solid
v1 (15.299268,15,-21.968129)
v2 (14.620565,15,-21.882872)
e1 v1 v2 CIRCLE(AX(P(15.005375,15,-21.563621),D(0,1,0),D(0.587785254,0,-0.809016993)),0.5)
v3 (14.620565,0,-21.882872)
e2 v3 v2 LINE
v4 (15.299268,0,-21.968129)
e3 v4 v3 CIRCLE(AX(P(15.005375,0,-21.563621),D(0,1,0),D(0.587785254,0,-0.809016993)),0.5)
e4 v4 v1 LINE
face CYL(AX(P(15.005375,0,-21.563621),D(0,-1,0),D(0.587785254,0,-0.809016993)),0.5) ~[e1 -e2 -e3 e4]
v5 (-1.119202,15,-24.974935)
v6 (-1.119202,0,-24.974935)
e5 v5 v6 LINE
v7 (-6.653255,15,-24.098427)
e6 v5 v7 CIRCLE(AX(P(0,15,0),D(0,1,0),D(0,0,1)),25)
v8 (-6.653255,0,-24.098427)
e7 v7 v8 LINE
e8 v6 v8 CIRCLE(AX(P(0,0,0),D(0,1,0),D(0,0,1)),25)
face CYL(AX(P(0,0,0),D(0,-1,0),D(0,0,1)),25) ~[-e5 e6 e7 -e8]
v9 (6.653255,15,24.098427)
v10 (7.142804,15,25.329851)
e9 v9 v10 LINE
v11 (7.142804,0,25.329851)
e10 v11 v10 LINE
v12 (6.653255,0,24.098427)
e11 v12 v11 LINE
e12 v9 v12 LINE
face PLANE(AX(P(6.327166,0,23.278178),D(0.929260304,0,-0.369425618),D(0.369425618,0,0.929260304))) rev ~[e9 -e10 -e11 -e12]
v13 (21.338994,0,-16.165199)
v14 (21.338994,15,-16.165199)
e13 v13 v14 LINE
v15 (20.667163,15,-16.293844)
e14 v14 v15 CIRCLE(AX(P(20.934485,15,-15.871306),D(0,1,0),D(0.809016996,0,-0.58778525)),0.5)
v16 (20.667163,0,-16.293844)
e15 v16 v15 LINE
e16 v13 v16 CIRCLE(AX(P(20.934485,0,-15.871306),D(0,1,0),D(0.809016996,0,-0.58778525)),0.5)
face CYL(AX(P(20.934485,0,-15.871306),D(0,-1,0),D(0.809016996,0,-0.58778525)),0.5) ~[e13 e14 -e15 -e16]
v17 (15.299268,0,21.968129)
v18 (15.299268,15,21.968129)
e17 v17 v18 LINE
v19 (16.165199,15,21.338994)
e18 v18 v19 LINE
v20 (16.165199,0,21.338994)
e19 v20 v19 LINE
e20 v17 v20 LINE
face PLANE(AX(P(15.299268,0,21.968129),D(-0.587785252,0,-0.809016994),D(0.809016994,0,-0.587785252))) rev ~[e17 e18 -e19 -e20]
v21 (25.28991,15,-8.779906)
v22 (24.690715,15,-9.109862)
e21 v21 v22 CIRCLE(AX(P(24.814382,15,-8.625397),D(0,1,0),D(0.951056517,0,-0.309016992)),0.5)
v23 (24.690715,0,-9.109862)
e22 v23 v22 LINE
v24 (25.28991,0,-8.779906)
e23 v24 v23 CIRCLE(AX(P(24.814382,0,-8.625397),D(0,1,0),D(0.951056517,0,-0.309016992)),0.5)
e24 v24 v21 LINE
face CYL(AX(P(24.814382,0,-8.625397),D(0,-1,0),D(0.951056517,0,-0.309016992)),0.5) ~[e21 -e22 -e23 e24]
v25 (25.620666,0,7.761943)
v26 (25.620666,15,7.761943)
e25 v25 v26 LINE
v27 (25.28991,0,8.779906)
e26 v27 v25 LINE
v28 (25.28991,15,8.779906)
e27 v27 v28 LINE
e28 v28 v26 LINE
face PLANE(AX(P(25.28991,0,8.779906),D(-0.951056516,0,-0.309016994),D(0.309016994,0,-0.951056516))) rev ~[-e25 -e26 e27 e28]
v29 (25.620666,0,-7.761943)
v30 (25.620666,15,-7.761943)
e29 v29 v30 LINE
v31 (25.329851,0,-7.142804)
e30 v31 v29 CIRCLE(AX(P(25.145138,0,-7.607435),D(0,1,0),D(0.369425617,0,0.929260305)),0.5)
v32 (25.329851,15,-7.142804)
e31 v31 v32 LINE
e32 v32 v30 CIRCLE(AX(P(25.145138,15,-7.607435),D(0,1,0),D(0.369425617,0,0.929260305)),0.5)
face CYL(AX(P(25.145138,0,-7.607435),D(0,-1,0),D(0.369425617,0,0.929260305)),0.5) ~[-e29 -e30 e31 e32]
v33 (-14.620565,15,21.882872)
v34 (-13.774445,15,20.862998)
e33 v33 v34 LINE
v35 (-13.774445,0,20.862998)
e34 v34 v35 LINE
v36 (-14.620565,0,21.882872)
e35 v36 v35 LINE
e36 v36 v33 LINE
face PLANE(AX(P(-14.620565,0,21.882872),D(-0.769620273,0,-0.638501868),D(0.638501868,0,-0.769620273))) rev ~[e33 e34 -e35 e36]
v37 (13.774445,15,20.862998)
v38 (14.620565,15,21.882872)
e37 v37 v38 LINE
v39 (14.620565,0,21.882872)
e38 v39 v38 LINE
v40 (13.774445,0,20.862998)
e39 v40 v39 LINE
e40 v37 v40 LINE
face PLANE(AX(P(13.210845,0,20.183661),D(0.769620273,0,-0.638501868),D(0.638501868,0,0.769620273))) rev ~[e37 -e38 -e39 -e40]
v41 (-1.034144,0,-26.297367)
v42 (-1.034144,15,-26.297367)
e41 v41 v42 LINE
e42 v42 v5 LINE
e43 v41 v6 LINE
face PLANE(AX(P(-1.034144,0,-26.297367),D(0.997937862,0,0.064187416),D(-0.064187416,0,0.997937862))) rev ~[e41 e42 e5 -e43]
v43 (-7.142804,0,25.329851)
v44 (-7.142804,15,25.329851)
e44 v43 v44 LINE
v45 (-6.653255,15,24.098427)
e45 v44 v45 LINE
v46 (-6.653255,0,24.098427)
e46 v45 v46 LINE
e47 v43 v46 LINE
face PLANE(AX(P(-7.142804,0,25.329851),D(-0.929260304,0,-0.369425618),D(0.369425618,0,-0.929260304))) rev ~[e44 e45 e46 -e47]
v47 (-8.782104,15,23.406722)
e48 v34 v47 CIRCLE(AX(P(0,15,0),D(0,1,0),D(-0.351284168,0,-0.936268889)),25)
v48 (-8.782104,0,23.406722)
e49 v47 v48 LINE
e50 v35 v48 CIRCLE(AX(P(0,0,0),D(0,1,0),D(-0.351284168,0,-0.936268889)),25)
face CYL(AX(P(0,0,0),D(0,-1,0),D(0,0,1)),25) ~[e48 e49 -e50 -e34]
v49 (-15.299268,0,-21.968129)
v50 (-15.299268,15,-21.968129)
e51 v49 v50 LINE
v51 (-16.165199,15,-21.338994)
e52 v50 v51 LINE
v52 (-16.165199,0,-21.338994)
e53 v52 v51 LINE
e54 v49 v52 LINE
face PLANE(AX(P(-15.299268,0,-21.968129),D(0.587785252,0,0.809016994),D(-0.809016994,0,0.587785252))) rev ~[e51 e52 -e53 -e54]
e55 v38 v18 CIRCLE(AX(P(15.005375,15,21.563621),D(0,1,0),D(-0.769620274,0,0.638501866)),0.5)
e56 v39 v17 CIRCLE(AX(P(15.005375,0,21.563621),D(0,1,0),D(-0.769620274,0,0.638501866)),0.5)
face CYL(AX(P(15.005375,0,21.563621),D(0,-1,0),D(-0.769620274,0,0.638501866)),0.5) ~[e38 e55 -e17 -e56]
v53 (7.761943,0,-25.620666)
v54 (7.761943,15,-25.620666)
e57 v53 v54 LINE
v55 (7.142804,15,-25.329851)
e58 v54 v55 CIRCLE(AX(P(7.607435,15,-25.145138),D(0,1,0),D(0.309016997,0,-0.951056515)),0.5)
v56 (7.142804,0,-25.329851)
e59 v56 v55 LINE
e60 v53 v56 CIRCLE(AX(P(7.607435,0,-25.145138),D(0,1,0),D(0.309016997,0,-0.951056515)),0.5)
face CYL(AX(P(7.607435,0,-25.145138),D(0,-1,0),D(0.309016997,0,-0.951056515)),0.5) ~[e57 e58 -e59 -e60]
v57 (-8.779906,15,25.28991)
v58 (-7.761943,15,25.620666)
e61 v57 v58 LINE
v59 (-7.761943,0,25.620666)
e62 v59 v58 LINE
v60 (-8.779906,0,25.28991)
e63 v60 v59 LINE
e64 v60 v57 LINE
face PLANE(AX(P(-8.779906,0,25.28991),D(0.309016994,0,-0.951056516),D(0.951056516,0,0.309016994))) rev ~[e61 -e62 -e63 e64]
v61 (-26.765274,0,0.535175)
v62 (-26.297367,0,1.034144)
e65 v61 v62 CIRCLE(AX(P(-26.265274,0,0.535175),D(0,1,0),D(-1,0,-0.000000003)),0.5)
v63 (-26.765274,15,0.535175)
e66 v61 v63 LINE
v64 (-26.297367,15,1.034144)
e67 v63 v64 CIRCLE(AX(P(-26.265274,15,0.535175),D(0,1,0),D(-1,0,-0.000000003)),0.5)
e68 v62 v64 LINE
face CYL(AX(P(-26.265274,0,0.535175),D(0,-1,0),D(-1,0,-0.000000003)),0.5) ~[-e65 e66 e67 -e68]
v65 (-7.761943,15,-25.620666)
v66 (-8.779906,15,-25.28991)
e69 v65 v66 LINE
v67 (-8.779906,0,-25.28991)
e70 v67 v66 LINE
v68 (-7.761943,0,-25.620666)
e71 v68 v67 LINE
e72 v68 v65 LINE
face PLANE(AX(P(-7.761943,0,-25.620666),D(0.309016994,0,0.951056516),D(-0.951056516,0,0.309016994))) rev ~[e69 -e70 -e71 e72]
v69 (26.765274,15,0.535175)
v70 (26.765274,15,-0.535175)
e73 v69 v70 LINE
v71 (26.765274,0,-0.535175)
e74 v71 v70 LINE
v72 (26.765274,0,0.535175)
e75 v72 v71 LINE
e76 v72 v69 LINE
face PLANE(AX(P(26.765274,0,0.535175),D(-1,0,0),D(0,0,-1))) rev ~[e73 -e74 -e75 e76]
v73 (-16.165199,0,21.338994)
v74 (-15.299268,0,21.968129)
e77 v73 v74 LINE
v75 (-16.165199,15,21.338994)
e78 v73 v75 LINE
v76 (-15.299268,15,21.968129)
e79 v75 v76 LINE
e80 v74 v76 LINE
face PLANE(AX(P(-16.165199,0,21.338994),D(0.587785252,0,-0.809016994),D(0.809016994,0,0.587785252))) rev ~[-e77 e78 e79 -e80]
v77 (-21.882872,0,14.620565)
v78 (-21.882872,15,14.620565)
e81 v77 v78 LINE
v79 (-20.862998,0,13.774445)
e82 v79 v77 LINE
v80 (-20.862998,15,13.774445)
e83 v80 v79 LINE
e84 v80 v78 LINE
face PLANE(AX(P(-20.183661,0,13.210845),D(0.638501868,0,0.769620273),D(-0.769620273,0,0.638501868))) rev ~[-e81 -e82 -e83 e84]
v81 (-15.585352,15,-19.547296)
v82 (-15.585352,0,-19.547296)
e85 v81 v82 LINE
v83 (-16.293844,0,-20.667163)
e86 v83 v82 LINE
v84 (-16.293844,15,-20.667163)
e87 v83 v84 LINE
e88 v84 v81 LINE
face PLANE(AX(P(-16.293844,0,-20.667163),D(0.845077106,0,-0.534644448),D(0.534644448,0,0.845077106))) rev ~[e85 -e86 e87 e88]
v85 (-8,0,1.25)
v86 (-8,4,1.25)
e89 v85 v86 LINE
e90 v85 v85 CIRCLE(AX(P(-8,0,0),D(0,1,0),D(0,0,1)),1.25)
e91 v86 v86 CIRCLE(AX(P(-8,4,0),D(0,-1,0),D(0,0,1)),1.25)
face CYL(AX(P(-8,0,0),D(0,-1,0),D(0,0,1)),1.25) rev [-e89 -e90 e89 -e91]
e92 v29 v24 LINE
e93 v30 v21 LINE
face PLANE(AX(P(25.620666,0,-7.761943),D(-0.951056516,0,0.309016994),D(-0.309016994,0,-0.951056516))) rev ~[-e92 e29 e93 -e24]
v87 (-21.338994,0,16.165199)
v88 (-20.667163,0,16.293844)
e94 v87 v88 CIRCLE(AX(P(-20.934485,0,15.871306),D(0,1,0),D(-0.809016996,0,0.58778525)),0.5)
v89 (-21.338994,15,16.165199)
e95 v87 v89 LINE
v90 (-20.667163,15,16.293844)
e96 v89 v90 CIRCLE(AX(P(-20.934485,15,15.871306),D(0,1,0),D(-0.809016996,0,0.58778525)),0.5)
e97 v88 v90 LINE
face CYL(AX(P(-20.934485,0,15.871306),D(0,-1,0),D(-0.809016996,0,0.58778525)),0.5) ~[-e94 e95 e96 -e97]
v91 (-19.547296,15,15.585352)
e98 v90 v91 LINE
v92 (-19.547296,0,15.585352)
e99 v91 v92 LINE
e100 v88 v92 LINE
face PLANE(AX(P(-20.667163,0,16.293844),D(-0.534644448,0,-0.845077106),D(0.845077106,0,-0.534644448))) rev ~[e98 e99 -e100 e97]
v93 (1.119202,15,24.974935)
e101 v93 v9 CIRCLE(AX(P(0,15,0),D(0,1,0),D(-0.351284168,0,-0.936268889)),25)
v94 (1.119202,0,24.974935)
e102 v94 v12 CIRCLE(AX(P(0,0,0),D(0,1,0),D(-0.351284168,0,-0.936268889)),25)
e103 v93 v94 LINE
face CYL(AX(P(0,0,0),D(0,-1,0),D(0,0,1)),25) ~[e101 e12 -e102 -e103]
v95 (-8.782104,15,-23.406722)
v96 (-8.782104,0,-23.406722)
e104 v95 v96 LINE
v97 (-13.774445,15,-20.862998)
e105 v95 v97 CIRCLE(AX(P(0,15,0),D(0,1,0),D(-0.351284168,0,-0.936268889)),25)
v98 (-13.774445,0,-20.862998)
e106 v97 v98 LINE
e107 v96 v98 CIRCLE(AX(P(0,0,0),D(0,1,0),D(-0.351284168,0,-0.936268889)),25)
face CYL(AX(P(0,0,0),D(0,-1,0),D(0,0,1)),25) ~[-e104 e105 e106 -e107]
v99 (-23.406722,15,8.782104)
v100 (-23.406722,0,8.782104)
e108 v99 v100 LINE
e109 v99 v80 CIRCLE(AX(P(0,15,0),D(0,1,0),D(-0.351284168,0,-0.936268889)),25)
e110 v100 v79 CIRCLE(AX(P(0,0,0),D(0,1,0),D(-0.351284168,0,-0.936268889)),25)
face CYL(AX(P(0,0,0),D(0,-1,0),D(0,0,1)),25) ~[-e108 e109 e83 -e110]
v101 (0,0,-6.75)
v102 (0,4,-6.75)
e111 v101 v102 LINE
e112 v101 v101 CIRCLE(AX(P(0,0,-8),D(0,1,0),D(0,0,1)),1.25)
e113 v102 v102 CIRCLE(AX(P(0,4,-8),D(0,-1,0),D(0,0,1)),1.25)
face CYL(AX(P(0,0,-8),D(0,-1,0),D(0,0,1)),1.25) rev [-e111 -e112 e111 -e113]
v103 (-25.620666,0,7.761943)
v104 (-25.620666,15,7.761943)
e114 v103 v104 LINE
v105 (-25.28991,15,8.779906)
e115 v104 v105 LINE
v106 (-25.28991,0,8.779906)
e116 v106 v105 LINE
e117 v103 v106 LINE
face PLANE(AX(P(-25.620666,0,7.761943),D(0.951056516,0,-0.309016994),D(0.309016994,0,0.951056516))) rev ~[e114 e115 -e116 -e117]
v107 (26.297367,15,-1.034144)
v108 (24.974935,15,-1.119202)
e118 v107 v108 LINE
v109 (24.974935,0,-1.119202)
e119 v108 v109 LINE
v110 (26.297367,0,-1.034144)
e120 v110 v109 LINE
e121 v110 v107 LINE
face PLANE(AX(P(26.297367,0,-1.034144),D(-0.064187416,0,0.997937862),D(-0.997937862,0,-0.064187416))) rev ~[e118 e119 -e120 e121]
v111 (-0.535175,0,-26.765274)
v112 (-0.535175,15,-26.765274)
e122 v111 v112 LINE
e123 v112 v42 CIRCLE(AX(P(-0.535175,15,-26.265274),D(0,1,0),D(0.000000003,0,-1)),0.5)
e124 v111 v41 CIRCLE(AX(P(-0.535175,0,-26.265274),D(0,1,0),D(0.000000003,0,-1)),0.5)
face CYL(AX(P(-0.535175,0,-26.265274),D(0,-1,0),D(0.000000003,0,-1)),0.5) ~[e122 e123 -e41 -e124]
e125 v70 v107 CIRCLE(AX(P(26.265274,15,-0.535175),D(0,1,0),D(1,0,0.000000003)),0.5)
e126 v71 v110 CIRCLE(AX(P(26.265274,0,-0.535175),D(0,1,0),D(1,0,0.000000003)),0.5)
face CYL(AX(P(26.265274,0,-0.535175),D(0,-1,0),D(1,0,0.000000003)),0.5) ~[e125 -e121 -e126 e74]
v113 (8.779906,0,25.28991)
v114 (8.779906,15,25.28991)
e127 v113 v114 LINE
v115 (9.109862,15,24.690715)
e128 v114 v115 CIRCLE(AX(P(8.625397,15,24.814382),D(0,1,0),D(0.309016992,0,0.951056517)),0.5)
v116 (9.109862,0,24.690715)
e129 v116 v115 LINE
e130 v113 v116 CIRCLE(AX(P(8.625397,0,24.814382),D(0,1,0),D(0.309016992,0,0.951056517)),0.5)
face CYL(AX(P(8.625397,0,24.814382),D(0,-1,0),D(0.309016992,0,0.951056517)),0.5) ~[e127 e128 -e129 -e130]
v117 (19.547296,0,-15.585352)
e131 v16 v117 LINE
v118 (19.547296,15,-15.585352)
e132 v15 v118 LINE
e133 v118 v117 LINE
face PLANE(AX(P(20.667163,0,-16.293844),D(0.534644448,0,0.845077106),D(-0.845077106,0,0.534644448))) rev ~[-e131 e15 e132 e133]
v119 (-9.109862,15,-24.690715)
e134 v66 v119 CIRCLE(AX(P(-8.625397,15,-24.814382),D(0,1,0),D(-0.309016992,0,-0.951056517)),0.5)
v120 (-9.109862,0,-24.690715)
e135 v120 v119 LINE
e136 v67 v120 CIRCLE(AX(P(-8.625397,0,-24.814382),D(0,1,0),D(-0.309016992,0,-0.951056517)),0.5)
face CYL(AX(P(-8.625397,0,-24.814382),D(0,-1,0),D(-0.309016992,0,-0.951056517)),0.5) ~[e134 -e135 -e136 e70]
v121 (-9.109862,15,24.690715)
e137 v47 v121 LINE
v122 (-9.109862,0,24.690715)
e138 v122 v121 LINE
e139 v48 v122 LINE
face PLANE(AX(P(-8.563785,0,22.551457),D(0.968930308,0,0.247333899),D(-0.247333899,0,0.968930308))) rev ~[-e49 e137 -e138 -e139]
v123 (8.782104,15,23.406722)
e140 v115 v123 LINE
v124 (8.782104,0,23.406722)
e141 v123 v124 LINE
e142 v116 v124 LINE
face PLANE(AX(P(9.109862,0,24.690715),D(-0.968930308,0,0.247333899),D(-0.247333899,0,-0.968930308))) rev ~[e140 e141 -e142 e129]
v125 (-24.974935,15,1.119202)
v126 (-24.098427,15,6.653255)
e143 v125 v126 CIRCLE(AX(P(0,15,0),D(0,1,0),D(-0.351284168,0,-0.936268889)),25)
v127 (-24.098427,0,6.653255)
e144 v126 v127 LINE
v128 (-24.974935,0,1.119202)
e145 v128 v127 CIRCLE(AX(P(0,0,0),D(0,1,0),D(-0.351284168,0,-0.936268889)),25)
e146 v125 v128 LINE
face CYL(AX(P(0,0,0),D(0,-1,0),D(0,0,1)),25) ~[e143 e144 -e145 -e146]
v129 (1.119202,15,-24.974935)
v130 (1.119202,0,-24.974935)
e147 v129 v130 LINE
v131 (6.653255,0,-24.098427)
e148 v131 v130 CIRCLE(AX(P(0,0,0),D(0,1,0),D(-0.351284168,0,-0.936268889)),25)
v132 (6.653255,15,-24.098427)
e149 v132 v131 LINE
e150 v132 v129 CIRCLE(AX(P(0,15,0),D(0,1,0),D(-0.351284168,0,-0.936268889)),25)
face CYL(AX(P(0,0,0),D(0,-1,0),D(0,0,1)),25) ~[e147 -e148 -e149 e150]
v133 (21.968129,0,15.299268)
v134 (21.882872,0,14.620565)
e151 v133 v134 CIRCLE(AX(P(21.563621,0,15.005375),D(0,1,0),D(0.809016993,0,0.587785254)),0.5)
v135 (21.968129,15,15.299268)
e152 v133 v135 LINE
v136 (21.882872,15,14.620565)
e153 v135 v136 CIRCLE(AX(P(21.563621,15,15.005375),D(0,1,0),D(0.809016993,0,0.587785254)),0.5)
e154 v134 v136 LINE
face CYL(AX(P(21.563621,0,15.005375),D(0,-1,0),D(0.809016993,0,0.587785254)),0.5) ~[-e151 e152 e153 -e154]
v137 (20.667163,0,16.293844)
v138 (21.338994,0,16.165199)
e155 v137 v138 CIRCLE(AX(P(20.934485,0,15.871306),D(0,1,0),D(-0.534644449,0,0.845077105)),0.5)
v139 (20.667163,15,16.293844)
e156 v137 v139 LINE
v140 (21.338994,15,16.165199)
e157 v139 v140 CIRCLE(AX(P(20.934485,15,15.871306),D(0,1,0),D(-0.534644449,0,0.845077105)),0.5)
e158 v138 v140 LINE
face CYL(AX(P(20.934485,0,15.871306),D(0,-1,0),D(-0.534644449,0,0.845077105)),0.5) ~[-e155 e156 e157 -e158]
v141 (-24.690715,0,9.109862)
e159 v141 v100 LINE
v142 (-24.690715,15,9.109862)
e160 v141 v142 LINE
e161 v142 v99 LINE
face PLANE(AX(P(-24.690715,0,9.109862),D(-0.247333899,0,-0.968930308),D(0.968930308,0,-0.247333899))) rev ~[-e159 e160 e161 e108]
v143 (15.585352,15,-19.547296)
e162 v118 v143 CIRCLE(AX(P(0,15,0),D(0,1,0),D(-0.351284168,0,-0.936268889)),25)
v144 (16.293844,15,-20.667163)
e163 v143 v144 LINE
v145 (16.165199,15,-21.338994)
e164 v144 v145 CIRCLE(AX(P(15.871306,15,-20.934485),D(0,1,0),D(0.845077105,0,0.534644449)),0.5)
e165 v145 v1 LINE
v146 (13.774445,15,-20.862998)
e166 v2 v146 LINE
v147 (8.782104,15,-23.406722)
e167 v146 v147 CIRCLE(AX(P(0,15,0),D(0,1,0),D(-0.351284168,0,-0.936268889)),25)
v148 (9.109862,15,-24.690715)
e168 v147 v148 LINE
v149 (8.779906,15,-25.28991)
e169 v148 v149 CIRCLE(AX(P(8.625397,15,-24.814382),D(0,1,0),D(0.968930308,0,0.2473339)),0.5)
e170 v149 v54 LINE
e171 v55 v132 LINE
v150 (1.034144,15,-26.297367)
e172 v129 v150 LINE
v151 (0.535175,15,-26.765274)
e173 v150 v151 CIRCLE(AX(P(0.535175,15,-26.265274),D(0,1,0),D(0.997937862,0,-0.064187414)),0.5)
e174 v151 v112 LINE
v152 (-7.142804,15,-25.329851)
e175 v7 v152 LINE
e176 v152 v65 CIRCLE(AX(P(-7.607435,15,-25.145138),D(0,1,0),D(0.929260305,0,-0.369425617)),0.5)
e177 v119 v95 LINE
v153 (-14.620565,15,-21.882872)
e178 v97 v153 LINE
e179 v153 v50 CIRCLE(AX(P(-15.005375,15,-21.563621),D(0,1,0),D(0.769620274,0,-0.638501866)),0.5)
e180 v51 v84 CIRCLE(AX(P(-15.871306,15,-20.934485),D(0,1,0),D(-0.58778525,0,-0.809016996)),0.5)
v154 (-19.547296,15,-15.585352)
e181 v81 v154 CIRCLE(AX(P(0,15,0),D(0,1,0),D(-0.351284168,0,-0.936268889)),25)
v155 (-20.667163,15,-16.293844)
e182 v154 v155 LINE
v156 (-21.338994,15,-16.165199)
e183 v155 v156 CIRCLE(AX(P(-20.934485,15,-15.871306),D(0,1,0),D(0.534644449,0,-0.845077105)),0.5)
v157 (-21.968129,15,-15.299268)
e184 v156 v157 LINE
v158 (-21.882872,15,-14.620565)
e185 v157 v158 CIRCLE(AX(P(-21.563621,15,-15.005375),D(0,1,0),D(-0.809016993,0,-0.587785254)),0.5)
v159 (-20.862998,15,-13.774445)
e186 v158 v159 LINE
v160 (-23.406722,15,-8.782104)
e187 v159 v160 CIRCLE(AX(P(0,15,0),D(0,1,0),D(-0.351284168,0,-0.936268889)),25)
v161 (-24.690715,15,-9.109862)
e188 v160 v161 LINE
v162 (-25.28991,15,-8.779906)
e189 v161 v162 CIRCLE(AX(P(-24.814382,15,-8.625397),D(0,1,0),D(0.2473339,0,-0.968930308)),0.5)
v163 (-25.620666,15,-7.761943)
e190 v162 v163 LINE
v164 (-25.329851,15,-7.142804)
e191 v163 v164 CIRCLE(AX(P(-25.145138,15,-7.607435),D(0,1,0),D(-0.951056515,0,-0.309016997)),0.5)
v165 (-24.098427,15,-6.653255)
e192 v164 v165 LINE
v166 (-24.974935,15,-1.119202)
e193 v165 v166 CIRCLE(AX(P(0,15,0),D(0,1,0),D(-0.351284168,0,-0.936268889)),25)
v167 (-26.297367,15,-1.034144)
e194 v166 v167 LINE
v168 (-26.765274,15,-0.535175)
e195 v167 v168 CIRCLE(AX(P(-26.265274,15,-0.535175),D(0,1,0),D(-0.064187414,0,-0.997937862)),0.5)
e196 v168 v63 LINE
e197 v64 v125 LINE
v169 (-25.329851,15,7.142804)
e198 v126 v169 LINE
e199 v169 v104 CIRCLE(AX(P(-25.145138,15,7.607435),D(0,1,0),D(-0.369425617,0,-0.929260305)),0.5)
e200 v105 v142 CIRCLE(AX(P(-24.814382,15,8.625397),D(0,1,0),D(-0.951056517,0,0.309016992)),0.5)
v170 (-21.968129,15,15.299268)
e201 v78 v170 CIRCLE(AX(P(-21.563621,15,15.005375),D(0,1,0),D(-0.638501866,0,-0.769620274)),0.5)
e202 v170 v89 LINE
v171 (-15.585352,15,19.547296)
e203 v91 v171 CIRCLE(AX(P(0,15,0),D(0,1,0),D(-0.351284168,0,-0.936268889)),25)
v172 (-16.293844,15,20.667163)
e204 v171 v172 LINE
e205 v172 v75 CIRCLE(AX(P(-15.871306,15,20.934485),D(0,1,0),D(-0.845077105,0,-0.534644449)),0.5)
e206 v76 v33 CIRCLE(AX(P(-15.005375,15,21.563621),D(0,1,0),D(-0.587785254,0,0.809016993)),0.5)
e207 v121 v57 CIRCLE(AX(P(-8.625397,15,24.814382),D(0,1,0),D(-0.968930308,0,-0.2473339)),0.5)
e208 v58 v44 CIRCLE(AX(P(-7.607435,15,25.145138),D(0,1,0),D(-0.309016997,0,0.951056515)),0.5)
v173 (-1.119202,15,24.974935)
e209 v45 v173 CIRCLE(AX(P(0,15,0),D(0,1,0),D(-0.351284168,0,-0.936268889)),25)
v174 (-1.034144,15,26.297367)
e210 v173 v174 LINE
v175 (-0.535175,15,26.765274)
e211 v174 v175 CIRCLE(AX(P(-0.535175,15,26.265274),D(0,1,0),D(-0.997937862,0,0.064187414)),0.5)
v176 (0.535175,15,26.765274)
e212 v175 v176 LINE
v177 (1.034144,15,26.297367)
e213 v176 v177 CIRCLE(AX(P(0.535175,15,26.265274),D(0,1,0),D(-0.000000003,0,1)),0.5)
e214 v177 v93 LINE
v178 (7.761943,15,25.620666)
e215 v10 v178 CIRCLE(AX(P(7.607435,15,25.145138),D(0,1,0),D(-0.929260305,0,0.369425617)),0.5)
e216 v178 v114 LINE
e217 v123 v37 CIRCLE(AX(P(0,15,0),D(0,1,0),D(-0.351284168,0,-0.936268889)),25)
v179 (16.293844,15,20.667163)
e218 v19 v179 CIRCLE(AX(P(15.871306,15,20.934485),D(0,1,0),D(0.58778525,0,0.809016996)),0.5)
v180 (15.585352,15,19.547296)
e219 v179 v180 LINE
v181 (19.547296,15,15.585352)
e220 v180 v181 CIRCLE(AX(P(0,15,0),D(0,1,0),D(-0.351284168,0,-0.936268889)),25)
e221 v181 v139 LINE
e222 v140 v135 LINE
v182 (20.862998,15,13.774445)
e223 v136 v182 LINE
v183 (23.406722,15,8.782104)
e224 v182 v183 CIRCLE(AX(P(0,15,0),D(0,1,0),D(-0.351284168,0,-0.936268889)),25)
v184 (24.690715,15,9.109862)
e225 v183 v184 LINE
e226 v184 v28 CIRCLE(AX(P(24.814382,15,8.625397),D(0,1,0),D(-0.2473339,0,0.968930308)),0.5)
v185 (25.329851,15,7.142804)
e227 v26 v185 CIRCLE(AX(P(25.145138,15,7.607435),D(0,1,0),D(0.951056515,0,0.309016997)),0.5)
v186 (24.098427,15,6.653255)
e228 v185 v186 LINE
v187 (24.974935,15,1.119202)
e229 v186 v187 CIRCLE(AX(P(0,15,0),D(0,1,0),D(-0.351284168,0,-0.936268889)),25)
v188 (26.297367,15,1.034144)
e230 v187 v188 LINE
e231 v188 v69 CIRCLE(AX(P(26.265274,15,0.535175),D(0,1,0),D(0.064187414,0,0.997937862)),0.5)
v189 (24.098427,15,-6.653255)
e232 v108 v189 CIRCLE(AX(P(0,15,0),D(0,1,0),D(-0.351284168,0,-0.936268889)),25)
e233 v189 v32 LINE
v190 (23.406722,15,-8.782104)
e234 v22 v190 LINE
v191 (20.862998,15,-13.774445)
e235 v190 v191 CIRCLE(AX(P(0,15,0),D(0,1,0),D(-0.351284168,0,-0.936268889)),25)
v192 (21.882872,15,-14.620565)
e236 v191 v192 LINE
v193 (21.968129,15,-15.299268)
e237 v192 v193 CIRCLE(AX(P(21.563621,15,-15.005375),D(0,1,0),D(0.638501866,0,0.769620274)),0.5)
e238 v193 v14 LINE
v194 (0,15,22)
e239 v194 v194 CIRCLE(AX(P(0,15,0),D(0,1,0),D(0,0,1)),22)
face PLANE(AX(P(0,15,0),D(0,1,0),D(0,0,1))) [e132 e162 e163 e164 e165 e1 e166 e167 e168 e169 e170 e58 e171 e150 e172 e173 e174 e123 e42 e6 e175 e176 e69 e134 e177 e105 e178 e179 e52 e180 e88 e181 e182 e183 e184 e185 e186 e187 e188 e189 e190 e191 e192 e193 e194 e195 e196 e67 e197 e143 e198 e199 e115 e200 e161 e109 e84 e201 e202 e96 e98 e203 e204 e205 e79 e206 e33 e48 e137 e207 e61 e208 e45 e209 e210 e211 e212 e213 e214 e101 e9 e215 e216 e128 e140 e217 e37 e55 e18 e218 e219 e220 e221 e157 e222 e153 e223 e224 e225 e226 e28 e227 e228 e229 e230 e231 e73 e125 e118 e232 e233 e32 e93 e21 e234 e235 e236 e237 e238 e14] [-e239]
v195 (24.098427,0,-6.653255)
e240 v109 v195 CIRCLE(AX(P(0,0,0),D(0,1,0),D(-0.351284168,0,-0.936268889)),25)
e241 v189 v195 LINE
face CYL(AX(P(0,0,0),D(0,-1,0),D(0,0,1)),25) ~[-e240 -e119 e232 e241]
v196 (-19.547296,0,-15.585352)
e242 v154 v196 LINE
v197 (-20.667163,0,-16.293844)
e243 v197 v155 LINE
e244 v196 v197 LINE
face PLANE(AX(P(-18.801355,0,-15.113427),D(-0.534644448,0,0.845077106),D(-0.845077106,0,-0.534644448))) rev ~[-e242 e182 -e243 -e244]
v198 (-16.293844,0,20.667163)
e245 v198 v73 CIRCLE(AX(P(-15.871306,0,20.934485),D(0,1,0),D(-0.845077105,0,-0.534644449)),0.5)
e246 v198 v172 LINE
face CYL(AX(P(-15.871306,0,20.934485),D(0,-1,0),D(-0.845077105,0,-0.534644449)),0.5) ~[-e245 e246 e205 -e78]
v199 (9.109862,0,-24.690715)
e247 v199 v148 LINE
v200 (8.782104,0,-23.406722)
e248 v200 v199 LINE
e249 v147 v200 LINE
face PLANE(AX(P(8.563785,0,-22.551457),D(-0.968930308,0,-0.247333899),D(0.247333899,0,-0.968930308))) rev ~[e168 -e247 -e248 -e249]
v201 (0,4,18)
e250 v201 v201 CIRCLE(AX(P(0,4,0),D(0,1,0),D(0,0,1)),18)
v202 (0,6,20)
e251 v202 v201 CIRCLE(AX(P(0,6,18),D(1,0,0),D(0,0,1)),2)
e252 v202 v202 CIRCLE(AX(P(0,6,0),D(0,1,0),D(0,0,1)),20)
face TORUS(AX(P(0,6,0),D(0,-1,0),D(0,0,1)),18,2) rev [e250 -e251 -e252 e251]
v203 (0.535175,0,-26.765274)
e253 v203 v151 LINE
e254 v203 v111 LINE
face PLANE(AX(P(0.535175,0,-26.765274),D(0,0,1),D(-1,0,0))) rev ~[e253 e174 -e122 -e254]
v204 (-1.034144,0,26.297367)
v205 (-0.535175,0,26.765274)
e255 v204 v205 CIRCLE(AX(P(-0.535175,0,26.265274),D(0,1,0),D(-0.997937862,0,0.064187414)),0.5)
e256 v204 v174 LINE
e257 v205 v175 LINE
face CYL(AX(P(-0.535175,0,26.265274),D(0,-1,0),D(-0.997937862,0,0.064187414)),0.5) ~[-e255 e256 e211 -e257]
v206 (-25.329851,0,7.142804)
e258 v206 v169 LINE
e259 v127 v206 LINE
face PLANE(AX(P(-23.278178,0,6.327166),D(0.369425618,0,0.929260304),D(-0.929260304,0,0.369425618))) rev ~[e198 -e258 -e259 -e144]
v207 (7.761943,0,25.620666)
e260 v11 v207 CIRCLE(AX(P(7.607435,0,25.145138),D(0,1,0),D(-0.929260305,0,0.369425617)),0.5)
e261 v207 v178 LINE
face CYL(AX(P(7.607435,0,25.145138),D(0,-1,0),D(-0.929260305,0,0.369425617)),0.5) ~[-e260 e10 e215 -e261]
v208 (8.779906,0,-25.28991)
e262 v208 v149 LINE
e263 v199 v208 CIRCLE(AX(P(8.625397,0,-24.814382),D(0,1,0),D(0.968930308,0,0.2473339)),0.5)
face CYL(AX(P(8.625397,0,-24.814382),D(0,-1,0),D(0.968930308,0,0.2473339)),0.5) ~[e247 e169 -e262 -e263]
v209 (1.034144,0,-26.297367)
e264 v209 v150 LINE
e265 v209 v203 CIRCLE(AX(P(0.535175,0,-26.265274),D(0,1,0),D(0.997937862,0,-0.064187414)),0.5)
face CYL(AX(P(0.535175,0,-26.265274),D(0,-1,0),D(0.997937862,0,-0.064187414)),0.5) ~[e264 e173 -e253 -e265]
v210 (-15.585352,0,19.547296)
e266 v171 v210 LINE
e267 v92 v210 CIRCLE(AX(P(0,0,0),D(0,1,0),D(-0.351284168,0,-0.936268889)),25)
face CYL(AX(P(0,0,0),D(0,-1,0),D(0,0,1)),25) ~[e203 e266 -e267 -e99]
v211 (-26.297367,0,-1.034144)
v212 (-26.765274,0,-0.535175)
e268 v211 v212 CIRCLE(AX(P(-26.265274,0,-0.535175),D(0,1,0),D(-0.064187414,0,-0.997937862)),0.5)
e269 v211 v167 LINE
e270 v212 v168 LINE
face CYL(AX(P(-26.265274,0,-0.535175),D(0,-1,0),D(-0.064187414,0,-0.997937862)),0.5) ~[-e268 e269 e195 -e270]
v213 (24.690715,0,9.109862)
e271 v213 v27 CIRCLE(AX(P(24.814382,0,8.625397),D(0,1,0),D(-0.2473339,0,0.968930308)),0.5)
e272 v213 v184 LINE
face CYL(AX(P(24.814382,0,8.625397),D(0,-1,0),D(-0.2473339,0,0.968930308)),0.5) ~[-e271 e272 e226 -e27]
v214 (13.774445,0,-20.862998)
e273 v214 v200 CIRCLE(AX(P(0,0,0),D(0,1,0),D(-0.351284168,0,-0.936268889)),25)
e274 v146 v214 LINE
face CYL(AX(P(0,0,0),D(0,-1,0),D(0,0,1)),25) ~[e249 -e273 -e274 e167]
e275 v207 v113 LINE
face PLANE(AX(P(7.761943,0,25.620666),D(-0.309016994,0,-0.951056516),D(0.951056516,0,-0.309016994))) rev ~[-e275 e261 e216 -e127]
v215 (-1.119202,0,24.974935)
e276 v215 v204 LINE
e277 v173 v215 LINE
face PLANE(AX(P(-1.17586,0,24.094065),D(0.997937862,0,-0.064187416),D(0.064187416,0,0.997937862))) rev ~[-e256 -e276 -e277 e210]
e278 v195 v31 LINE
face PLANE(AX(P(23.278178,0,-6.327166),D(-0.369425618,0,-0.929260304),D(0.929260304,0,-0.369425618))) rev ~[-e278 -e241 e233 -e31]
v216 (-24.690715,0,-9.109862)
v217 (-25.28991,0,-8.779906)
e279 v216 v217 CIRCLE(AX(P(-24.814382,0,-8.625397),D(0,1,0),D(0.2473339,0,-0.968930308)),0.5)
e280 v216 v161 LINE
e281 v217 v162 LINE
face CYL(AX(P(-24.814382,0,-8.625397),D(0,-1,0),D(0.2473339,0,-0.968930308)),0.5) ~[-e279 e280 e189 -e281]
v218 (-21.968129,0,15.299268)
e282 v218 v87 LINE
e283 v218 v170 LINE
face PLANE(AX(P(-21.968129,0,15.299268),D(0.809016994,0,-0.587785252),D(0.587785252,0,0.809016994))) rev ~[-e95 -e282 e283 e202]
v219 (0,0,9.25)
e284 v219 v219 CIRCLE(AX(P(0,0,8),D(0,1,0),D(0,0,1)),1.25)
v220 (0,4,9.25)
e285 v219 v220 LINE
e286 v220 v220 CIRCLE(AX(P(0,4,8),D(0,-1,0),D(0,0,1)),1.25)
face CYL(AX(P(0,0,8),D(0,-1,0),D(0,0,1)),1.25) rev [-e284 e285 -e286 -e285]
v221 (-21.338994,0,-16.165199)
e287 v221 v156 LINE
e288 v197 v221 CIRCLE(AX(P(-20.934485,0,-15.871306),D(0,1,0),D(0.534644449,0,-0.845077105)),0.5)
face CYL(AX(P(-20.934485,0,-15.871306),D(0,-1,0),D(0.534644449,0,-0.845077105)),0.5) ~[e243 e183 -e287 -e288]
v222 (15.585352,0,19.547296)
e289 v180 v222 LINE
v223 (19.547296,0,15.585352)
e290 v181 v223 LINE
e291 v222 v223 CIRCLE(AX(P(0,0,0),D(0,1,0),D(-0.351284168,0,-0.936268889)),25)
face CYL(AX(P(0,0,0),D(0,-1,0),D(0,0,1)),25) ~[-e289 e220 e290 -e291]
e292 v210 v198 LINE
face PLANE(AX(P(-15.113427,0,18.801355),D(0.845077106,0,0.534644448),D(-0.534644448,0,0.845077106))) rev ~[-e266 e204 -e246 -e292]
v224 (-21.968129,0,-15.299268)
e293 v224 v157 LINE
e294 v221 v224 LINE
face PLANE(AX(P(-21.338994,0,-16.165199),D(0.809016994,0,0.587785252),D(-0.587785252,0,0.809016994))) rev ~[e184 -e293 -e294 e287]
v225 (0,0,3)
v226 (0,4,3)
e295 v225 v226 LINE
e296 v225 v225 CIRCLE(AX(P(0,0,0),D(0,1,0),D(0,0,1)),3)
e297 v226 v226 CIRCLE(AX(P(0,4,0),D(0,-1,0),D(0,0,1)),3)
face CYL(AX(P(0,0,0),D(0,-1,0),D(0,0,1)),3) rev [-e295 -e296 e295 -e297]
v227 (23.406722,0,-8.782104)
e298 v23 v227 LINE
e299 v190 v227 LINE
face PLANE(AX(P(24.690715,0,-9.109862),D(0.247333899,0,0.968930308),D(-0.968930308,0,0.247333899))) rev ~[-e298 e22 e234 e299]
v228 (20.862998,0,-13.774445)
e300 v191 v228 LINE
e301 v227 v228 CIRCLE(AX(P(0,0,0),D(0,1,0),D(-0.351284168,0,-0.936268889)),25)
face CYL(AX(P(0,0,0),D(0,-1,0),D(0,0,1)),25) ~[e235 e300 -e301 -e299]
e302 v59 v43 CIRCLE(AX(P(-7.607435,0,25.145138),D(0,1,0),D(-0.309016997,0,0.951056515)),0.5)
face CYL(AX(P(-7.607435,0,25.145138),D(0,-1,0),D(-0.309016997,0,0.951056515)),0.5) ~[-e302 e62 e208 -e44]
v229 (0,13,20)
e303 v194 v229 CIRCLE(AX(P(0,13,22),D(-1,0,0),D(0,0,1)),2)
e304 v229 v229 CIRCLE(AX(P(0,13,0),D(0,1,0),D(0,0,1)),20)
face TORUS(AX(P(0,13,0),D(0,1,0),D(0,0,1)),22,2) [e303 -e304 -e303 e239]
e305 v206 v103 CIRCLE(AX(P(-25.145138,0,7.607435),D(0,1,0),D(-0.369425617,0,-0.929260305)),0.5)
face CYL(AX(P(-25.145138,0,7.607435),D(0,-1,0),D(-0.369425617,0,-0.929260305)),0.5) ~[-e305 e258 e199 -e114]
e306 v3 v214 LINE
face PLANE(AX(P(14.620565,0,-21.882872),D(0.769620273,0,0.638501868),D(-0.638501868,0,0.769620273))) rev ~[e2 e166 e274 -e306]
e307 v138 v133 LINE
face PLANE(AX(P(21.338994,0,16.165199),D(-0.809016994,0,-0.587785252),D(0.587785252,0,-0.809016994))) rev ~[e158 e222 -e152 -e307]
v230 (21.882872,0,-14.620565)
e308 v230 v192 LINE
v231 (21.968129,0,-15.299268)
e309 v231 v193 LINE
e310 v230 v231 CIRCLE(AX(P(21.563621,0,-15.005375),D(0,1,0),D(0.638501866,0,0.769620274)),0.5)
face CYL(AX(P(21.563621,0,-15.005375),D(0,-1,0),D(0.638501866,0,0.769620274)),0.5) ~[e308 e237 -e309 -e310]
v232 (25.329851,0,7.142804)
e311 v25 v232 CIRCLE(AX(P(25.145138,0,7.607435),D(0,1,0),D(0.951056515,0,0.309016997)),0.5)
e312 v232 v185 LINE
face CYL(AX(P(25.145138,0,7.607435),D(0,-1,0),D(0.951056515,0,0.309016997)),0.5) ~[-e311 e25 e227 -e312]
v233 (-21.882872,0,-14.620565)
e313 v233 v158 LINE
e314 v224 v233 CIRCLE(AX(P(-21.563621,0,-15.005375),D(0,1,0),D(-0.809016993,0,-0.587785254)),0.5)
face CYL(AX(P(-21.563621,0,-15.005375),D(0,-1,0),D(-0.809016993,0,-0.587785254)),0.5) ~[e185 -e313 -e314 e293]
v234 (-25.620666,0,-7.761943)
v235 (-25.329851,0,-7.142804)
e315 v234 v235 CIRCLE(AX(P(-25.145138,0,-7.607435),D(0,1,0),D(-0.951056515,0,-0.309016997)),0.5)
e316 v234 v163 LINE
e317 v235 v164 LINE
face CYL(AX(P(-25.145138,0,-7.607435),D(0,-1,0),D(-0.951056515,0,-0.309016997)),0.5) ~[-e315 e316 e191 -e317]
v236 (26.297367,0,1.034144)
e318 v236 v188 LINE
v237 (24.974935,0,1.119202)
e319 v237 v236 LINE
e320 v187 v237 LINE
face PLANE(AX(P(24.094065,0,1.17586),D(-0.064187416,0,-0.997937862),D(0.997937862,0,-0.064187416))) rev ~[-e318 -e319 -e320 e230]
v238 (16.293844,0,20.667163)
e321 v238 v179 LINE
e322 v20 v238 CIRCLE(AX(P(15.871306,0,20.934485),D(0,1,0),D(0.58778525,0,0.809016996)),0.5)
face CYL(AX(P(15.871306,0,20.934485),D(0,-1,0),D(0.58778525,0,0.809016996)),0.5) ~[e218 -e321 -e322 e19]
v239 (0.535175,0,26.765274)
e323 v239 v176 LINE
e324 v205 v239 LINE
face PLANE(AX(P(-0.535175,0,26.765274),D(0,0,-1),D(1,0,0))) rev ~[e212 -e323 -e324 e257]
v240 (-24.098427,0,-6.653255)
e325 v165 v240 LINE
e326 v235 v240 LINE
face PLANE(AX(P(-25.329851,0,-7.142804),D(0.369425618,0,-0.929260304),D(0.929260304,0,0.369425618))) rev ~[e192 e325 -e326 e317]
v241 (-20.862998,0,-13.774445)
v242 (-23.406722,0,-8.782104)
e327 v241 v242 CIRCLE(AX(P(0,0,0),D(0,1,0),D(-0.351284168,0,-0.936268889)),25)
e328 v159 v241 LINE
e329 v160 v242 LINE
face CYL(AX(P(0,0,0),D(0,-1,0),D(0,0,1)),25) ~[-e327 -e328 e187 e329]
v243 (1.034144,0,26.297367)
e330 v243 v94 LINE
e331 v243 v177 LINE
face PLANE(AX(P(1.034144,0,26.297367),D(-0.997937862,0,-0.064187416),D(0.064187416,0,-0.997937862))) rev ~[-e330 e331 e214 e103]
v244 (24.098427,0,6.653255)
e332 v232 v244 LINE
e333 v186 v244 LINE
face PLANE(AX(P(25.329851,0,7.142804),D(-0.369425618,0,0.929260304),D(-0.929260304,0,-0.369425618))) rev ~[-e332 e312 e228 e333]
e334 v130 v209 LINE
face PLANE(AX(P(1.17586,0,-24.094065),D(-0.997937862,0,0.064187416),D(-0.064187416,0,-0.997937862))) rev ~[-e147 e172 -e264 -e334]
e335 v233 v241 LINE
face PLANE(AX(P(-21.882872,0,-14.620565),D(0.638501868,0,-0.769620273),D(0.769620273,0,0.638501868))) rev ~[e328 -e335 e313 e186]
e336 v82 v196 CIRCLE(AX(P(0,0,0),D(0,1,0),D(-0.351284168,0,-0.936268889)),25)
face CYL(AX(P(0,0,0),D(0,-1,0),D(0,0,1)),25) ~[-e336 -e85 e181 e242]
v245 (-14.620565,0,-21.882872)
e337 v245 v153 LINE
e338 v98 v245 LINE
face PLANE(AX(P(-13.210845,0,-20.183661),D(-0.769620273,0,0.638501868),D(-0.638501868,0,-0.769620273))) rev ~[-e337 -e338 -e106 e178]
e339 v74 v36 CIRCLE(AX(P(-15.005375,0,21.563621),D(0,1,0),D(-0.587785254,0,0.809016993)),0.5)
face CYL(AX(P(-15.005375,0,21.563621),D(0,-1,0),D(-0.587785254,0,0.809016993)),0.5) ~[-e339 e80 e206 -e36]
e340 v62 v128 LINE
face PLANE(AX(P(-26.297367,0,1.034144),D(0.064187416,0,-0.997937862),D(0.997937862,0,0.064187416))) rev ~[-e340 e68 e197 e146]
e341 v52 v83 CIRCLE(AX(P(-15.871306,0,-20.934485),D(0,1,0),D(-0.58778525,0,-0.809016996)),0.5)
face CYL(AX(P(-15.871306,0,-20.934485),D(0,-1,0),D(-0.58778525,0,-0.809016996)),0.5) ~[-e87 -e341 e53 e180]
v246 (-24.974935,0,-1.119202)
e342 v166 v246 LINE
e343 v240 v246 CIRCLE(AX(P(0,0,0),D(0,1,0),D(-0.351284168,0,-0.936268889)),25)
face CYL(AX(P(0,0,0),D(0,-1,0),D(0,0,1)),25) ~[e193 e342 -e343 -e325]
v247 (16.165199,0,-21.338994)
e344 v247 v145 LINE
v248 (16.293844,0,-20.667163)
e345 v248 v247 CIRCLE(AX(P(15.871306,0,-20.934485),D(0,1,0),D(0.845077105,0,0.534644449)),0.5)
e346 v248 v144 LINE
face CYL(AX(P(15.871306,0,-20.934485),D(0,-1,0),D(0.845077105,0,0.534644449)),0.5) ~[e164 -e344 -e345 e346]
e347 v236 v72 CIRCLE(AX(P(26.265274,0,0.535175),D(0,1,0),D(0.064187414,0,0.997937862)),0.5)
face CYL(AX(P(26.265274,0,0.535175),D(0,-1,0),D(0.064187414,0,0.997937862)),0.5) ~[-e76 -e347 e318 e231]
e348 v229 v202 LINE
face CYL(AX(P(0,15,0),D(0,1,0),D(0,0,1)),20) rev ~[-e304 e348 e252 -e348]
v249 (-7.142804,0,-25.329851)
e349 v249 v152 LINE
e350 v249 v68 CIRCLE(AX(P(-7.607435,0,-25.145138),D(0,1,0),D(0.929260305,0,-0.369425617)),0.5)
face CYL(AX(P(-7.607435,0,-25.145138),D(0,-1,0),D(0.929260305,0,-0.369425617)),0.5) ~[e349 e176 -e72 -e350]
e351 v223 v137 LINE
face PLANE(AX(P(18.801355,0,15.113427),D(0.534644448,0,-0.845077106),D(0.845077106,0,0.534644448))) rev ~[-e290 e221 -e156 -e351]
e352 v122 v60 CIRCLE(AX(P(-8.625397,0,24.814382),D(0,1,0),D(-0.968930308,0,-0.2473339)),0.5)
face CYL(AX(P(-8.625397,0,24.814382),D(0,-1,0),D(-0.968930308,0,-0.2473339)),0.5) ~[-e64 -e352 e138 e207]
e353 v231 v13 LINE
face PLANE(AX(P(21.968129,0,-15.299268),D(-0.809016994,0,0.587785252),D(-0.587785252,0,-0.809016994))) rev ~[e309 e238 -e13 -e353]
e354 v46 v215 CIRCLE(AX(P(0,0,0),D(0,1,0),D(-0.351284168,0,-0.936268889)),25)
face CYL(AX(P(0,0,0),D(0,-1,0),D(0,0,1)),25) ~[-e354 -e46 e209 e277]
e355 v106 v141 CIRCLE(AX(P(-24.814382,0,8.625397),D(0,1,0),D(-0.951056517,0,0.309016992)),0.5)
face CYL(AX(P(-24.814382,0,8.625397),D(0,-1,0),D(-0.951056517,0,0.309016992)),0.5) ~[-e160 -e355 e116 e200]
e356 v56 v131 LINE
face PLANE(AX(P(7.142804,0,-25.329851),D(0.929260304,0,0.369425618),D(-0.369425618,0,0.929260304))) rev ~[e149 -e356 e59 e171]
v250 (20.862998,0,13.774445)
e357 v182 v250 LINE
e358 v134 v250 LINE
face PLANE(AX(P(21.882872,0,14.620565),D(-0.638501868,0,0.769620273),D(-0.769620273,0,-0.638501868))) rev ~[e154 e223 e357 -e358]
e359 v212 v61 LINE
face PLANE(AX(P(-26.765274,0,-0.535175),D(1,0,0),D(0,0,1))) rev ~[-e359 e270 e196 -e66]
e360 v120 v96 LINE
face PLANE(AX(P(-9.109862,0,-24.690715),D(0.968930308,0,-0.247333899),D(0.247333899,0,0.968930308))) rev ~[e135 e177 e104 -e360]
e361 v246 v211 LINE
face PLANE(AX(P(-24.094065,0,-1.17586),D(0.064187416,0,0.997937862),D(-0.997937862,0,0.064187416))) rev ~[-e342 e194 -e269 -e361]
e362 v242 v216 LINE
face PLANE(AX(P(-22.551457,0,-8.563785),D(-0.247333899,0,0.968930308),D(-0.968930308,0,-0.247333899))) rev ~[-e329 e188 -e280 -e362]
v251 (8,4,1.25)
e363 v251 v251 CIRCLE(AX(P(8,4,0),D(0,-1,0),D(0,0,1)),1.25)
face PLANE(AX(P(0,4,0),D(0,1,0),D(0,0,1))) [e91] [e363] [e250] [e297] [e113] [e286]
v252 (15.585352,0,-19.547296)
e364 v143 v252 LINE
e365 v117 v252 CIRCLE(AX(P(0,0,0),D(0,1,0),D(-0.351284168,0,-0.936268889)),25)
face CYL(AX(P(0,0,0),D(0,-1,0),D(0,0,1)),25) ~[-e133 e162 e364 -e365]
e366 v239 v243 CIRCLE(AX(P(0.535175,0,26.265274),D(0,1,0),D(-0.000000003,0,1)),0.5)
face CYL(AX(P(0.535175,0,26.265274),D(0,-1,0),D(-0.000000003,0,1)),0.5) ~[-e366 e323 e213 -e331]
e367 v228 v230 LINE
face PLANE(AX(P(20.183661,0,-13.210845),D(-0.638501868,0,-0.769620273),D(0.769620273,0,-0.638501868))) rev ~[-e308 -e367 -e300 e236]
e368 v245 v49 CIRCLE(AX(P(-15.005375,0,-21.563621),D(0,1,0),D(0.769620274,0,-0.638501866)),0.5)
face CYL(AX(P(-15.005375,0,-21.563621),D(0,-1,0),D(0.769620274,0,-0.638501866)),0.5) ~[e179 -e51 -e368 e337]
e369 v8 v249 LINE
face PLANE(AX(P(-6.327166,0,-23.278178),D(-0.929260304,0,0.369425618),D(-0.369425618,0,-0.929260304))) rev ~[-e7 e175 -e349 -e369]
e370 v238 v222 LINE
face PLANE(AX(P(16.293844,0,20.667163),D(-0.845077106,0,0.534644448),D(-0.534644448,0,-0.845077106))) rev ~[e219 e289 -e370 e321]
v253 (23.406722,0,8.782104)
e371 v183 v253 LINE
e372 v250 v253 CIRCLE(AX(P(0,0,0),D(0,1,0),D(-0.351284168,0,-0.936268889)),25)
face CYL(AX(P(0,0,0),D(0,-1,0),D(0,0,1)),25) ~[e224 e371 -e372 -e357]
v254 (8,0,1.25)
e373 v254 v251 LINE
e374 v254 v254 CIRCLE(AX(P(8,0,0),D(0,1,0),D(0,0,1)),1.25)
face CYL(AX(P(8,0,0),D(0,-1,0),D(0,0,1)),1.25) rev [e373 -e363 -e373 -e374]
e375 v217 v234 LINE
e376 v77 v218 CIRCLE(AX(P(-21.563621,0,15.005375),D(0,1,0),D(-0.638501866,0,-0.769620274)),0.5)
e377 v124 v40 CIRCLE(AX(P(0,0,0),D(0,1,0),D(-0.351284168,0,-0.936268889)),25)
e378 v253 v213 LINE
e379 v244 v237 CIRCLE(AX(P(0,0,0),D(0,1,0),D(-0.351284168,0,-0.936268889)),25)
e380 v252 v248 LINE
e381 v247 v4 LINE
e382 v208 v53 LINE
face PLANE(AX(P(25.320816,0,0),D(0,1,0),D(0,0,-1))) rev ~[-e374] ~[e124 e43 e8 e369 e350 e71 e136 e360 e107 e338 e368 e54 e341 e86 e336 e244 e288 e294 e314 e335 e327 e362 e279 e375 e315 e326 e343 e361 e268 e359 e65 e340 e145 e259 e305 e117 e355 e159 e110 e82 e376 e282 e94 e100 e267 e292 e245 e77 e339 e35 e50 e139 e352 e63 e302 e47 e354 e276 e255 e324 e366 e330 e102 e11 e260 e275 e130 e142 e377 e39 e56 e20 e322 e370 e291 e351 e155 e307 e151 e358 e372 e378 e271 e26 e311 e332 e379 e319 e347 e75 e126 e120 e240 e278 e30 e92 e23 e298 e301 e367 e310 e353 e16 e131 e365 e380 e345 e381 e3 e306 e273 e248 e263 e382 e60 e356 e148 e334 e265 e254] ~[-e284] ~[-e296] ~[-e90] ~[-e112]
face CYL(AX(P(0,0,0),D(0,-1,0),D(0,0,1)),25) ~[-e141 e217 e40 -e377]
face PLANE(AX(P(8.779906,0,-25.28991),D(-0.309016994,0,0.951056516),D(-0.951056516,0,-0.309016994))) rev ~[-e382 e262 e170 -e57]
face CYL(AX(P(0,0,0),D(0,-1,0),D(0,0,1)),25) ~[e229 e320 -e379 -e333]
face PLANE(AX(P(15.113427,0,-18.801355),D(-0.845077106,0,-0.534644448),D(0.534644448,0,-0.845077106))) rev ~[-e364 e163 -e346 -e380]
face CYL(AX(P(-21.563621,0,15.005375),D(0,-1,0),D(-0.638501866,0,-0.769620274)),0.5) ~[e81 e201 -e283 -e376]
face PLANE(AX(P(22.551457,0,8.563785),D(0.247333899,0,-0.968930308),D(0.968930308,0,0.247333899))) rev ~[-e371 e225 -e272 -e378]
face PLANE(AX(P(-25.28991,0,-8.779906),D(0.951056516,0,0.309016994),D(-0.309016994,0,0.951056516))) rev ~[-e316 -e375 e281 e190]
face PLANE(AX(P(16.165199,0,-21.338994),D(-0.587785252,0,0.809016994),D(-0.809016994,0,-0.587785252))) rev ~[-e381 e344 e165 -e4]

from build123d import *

# Parameters (mm, degrees)
SKETCH1_R           = 25
SKETCH1_R_2         = 3
SKETCH1_R_3         = 1.25
BOSS_EXTRUDE1_DEPTH = 15
SKETCH2_R           = 20
CUT_EXTRUDE1_DEPTH  = 11
FILLET1_R           = 2
BOSS_EXTRUDE2_DEPTH = 15
CIRPATTERN1_COUNT   = 20


with BuildPart() as part:
    # Sketch1 → Boss-Extrude1 (new body)
    with BuildSketch(Plane(origin=(0, 0, 0), x_dir=(1, 0, 0), z_dir=(0, 1, 0))):
        with Locations(Location((0, 0, 0), (0, 0, 270))):
            Circle(SKETCH1_R)
        with Locations(Location((0, 0, 0), (0, 0, 270))):
            Circle(SKETCH1_R_2, mode=Mode.SUBTRACT)
        with Locations(Location((0, 8, 0), (0, 0, 270))):
            Circle(SKETCH1_R_3, mode=Mode.SUBTRACT)
        with Locations(Location((8, 0, 0), (0, 0, 270))):
            Circle(SKETCH1_R_3, mode=Mode.SUBTRACT)
        with Locations(Location((0, -8, 0), (0, 0, 270))):
            Circle(SKETCH1_R_3, mode=Mode.SUBTRACT)
        with Locations(Location((-8, 0, 0), (0, 0, 270))):
            Circle(SKETCH1_R_3, mode=Mode.SUBTRACT)
    extrude(amount=BOSS_EXTRUDE1_DEPTH)

    # Sketch2 → Cut-Extrude1 (cut)
    with BuildSketch(Plane(origin=(0, 15, 0), x_dir=(1, 0, 0), z_dir=(0, 1, 0))):
        with Locations(Location((0, 0, 0), (0, 0, 270))):
            Circle(SKETCH2_R)
    extrude(amount=-CUT_EXTRUDE1_DEPTH, mode=Mode.SUBTRACT)

    # Fillet1
    fillet1_edges = [part.edges().sort_by_distance(p)[0] for p in [
        (0, 4, -20),
        (0, 15, -20),
    ]]
    fillet(fillet1_edges, radius=FILLET1_R)

    # Sketch3 → Boss-Extrude2 (add)
    with BuildSketch(Plane.XZ):
        with BuildLine():
            Line((1.175860097, -24.094064846), (1.034143555, -26.297367496))
            ThreePointArc((1.034143555, -26.297367496), (0.877193006, -26.629997556), (0.535174624, -26.765273788))
            Line((0.535174624, -26.765273788), (-0.535174624, -26.765273788))
            ThreePointArc((-0.535174624, -26.765273788), (-0.877193006, -26.629997556), (-1.034143555, -26.297367496))
            Line((-1.034143555, -26.297367496), (-1.175860097, -24.094064846))
            Line((-1.175860097, -24.094064846), (1.175860097, -24.094064846))
        make_face()
    boss_extrude2 = extrude(amount=-BOSS_EXTRUDE2_DEPTH)

    # CirPattern1: Boss-Extrude2 ×20 about axis
    cirpattern1_axis = Axis((0, 0, 0), (0, 1, 0))
    for i in range(1, CIRPATTERN1_COUNT):
        add(boss_extrude2.rotate(cirpattern1_axis, i * 360 / CIRPATTERN1_COUNT))


solid = part.part
